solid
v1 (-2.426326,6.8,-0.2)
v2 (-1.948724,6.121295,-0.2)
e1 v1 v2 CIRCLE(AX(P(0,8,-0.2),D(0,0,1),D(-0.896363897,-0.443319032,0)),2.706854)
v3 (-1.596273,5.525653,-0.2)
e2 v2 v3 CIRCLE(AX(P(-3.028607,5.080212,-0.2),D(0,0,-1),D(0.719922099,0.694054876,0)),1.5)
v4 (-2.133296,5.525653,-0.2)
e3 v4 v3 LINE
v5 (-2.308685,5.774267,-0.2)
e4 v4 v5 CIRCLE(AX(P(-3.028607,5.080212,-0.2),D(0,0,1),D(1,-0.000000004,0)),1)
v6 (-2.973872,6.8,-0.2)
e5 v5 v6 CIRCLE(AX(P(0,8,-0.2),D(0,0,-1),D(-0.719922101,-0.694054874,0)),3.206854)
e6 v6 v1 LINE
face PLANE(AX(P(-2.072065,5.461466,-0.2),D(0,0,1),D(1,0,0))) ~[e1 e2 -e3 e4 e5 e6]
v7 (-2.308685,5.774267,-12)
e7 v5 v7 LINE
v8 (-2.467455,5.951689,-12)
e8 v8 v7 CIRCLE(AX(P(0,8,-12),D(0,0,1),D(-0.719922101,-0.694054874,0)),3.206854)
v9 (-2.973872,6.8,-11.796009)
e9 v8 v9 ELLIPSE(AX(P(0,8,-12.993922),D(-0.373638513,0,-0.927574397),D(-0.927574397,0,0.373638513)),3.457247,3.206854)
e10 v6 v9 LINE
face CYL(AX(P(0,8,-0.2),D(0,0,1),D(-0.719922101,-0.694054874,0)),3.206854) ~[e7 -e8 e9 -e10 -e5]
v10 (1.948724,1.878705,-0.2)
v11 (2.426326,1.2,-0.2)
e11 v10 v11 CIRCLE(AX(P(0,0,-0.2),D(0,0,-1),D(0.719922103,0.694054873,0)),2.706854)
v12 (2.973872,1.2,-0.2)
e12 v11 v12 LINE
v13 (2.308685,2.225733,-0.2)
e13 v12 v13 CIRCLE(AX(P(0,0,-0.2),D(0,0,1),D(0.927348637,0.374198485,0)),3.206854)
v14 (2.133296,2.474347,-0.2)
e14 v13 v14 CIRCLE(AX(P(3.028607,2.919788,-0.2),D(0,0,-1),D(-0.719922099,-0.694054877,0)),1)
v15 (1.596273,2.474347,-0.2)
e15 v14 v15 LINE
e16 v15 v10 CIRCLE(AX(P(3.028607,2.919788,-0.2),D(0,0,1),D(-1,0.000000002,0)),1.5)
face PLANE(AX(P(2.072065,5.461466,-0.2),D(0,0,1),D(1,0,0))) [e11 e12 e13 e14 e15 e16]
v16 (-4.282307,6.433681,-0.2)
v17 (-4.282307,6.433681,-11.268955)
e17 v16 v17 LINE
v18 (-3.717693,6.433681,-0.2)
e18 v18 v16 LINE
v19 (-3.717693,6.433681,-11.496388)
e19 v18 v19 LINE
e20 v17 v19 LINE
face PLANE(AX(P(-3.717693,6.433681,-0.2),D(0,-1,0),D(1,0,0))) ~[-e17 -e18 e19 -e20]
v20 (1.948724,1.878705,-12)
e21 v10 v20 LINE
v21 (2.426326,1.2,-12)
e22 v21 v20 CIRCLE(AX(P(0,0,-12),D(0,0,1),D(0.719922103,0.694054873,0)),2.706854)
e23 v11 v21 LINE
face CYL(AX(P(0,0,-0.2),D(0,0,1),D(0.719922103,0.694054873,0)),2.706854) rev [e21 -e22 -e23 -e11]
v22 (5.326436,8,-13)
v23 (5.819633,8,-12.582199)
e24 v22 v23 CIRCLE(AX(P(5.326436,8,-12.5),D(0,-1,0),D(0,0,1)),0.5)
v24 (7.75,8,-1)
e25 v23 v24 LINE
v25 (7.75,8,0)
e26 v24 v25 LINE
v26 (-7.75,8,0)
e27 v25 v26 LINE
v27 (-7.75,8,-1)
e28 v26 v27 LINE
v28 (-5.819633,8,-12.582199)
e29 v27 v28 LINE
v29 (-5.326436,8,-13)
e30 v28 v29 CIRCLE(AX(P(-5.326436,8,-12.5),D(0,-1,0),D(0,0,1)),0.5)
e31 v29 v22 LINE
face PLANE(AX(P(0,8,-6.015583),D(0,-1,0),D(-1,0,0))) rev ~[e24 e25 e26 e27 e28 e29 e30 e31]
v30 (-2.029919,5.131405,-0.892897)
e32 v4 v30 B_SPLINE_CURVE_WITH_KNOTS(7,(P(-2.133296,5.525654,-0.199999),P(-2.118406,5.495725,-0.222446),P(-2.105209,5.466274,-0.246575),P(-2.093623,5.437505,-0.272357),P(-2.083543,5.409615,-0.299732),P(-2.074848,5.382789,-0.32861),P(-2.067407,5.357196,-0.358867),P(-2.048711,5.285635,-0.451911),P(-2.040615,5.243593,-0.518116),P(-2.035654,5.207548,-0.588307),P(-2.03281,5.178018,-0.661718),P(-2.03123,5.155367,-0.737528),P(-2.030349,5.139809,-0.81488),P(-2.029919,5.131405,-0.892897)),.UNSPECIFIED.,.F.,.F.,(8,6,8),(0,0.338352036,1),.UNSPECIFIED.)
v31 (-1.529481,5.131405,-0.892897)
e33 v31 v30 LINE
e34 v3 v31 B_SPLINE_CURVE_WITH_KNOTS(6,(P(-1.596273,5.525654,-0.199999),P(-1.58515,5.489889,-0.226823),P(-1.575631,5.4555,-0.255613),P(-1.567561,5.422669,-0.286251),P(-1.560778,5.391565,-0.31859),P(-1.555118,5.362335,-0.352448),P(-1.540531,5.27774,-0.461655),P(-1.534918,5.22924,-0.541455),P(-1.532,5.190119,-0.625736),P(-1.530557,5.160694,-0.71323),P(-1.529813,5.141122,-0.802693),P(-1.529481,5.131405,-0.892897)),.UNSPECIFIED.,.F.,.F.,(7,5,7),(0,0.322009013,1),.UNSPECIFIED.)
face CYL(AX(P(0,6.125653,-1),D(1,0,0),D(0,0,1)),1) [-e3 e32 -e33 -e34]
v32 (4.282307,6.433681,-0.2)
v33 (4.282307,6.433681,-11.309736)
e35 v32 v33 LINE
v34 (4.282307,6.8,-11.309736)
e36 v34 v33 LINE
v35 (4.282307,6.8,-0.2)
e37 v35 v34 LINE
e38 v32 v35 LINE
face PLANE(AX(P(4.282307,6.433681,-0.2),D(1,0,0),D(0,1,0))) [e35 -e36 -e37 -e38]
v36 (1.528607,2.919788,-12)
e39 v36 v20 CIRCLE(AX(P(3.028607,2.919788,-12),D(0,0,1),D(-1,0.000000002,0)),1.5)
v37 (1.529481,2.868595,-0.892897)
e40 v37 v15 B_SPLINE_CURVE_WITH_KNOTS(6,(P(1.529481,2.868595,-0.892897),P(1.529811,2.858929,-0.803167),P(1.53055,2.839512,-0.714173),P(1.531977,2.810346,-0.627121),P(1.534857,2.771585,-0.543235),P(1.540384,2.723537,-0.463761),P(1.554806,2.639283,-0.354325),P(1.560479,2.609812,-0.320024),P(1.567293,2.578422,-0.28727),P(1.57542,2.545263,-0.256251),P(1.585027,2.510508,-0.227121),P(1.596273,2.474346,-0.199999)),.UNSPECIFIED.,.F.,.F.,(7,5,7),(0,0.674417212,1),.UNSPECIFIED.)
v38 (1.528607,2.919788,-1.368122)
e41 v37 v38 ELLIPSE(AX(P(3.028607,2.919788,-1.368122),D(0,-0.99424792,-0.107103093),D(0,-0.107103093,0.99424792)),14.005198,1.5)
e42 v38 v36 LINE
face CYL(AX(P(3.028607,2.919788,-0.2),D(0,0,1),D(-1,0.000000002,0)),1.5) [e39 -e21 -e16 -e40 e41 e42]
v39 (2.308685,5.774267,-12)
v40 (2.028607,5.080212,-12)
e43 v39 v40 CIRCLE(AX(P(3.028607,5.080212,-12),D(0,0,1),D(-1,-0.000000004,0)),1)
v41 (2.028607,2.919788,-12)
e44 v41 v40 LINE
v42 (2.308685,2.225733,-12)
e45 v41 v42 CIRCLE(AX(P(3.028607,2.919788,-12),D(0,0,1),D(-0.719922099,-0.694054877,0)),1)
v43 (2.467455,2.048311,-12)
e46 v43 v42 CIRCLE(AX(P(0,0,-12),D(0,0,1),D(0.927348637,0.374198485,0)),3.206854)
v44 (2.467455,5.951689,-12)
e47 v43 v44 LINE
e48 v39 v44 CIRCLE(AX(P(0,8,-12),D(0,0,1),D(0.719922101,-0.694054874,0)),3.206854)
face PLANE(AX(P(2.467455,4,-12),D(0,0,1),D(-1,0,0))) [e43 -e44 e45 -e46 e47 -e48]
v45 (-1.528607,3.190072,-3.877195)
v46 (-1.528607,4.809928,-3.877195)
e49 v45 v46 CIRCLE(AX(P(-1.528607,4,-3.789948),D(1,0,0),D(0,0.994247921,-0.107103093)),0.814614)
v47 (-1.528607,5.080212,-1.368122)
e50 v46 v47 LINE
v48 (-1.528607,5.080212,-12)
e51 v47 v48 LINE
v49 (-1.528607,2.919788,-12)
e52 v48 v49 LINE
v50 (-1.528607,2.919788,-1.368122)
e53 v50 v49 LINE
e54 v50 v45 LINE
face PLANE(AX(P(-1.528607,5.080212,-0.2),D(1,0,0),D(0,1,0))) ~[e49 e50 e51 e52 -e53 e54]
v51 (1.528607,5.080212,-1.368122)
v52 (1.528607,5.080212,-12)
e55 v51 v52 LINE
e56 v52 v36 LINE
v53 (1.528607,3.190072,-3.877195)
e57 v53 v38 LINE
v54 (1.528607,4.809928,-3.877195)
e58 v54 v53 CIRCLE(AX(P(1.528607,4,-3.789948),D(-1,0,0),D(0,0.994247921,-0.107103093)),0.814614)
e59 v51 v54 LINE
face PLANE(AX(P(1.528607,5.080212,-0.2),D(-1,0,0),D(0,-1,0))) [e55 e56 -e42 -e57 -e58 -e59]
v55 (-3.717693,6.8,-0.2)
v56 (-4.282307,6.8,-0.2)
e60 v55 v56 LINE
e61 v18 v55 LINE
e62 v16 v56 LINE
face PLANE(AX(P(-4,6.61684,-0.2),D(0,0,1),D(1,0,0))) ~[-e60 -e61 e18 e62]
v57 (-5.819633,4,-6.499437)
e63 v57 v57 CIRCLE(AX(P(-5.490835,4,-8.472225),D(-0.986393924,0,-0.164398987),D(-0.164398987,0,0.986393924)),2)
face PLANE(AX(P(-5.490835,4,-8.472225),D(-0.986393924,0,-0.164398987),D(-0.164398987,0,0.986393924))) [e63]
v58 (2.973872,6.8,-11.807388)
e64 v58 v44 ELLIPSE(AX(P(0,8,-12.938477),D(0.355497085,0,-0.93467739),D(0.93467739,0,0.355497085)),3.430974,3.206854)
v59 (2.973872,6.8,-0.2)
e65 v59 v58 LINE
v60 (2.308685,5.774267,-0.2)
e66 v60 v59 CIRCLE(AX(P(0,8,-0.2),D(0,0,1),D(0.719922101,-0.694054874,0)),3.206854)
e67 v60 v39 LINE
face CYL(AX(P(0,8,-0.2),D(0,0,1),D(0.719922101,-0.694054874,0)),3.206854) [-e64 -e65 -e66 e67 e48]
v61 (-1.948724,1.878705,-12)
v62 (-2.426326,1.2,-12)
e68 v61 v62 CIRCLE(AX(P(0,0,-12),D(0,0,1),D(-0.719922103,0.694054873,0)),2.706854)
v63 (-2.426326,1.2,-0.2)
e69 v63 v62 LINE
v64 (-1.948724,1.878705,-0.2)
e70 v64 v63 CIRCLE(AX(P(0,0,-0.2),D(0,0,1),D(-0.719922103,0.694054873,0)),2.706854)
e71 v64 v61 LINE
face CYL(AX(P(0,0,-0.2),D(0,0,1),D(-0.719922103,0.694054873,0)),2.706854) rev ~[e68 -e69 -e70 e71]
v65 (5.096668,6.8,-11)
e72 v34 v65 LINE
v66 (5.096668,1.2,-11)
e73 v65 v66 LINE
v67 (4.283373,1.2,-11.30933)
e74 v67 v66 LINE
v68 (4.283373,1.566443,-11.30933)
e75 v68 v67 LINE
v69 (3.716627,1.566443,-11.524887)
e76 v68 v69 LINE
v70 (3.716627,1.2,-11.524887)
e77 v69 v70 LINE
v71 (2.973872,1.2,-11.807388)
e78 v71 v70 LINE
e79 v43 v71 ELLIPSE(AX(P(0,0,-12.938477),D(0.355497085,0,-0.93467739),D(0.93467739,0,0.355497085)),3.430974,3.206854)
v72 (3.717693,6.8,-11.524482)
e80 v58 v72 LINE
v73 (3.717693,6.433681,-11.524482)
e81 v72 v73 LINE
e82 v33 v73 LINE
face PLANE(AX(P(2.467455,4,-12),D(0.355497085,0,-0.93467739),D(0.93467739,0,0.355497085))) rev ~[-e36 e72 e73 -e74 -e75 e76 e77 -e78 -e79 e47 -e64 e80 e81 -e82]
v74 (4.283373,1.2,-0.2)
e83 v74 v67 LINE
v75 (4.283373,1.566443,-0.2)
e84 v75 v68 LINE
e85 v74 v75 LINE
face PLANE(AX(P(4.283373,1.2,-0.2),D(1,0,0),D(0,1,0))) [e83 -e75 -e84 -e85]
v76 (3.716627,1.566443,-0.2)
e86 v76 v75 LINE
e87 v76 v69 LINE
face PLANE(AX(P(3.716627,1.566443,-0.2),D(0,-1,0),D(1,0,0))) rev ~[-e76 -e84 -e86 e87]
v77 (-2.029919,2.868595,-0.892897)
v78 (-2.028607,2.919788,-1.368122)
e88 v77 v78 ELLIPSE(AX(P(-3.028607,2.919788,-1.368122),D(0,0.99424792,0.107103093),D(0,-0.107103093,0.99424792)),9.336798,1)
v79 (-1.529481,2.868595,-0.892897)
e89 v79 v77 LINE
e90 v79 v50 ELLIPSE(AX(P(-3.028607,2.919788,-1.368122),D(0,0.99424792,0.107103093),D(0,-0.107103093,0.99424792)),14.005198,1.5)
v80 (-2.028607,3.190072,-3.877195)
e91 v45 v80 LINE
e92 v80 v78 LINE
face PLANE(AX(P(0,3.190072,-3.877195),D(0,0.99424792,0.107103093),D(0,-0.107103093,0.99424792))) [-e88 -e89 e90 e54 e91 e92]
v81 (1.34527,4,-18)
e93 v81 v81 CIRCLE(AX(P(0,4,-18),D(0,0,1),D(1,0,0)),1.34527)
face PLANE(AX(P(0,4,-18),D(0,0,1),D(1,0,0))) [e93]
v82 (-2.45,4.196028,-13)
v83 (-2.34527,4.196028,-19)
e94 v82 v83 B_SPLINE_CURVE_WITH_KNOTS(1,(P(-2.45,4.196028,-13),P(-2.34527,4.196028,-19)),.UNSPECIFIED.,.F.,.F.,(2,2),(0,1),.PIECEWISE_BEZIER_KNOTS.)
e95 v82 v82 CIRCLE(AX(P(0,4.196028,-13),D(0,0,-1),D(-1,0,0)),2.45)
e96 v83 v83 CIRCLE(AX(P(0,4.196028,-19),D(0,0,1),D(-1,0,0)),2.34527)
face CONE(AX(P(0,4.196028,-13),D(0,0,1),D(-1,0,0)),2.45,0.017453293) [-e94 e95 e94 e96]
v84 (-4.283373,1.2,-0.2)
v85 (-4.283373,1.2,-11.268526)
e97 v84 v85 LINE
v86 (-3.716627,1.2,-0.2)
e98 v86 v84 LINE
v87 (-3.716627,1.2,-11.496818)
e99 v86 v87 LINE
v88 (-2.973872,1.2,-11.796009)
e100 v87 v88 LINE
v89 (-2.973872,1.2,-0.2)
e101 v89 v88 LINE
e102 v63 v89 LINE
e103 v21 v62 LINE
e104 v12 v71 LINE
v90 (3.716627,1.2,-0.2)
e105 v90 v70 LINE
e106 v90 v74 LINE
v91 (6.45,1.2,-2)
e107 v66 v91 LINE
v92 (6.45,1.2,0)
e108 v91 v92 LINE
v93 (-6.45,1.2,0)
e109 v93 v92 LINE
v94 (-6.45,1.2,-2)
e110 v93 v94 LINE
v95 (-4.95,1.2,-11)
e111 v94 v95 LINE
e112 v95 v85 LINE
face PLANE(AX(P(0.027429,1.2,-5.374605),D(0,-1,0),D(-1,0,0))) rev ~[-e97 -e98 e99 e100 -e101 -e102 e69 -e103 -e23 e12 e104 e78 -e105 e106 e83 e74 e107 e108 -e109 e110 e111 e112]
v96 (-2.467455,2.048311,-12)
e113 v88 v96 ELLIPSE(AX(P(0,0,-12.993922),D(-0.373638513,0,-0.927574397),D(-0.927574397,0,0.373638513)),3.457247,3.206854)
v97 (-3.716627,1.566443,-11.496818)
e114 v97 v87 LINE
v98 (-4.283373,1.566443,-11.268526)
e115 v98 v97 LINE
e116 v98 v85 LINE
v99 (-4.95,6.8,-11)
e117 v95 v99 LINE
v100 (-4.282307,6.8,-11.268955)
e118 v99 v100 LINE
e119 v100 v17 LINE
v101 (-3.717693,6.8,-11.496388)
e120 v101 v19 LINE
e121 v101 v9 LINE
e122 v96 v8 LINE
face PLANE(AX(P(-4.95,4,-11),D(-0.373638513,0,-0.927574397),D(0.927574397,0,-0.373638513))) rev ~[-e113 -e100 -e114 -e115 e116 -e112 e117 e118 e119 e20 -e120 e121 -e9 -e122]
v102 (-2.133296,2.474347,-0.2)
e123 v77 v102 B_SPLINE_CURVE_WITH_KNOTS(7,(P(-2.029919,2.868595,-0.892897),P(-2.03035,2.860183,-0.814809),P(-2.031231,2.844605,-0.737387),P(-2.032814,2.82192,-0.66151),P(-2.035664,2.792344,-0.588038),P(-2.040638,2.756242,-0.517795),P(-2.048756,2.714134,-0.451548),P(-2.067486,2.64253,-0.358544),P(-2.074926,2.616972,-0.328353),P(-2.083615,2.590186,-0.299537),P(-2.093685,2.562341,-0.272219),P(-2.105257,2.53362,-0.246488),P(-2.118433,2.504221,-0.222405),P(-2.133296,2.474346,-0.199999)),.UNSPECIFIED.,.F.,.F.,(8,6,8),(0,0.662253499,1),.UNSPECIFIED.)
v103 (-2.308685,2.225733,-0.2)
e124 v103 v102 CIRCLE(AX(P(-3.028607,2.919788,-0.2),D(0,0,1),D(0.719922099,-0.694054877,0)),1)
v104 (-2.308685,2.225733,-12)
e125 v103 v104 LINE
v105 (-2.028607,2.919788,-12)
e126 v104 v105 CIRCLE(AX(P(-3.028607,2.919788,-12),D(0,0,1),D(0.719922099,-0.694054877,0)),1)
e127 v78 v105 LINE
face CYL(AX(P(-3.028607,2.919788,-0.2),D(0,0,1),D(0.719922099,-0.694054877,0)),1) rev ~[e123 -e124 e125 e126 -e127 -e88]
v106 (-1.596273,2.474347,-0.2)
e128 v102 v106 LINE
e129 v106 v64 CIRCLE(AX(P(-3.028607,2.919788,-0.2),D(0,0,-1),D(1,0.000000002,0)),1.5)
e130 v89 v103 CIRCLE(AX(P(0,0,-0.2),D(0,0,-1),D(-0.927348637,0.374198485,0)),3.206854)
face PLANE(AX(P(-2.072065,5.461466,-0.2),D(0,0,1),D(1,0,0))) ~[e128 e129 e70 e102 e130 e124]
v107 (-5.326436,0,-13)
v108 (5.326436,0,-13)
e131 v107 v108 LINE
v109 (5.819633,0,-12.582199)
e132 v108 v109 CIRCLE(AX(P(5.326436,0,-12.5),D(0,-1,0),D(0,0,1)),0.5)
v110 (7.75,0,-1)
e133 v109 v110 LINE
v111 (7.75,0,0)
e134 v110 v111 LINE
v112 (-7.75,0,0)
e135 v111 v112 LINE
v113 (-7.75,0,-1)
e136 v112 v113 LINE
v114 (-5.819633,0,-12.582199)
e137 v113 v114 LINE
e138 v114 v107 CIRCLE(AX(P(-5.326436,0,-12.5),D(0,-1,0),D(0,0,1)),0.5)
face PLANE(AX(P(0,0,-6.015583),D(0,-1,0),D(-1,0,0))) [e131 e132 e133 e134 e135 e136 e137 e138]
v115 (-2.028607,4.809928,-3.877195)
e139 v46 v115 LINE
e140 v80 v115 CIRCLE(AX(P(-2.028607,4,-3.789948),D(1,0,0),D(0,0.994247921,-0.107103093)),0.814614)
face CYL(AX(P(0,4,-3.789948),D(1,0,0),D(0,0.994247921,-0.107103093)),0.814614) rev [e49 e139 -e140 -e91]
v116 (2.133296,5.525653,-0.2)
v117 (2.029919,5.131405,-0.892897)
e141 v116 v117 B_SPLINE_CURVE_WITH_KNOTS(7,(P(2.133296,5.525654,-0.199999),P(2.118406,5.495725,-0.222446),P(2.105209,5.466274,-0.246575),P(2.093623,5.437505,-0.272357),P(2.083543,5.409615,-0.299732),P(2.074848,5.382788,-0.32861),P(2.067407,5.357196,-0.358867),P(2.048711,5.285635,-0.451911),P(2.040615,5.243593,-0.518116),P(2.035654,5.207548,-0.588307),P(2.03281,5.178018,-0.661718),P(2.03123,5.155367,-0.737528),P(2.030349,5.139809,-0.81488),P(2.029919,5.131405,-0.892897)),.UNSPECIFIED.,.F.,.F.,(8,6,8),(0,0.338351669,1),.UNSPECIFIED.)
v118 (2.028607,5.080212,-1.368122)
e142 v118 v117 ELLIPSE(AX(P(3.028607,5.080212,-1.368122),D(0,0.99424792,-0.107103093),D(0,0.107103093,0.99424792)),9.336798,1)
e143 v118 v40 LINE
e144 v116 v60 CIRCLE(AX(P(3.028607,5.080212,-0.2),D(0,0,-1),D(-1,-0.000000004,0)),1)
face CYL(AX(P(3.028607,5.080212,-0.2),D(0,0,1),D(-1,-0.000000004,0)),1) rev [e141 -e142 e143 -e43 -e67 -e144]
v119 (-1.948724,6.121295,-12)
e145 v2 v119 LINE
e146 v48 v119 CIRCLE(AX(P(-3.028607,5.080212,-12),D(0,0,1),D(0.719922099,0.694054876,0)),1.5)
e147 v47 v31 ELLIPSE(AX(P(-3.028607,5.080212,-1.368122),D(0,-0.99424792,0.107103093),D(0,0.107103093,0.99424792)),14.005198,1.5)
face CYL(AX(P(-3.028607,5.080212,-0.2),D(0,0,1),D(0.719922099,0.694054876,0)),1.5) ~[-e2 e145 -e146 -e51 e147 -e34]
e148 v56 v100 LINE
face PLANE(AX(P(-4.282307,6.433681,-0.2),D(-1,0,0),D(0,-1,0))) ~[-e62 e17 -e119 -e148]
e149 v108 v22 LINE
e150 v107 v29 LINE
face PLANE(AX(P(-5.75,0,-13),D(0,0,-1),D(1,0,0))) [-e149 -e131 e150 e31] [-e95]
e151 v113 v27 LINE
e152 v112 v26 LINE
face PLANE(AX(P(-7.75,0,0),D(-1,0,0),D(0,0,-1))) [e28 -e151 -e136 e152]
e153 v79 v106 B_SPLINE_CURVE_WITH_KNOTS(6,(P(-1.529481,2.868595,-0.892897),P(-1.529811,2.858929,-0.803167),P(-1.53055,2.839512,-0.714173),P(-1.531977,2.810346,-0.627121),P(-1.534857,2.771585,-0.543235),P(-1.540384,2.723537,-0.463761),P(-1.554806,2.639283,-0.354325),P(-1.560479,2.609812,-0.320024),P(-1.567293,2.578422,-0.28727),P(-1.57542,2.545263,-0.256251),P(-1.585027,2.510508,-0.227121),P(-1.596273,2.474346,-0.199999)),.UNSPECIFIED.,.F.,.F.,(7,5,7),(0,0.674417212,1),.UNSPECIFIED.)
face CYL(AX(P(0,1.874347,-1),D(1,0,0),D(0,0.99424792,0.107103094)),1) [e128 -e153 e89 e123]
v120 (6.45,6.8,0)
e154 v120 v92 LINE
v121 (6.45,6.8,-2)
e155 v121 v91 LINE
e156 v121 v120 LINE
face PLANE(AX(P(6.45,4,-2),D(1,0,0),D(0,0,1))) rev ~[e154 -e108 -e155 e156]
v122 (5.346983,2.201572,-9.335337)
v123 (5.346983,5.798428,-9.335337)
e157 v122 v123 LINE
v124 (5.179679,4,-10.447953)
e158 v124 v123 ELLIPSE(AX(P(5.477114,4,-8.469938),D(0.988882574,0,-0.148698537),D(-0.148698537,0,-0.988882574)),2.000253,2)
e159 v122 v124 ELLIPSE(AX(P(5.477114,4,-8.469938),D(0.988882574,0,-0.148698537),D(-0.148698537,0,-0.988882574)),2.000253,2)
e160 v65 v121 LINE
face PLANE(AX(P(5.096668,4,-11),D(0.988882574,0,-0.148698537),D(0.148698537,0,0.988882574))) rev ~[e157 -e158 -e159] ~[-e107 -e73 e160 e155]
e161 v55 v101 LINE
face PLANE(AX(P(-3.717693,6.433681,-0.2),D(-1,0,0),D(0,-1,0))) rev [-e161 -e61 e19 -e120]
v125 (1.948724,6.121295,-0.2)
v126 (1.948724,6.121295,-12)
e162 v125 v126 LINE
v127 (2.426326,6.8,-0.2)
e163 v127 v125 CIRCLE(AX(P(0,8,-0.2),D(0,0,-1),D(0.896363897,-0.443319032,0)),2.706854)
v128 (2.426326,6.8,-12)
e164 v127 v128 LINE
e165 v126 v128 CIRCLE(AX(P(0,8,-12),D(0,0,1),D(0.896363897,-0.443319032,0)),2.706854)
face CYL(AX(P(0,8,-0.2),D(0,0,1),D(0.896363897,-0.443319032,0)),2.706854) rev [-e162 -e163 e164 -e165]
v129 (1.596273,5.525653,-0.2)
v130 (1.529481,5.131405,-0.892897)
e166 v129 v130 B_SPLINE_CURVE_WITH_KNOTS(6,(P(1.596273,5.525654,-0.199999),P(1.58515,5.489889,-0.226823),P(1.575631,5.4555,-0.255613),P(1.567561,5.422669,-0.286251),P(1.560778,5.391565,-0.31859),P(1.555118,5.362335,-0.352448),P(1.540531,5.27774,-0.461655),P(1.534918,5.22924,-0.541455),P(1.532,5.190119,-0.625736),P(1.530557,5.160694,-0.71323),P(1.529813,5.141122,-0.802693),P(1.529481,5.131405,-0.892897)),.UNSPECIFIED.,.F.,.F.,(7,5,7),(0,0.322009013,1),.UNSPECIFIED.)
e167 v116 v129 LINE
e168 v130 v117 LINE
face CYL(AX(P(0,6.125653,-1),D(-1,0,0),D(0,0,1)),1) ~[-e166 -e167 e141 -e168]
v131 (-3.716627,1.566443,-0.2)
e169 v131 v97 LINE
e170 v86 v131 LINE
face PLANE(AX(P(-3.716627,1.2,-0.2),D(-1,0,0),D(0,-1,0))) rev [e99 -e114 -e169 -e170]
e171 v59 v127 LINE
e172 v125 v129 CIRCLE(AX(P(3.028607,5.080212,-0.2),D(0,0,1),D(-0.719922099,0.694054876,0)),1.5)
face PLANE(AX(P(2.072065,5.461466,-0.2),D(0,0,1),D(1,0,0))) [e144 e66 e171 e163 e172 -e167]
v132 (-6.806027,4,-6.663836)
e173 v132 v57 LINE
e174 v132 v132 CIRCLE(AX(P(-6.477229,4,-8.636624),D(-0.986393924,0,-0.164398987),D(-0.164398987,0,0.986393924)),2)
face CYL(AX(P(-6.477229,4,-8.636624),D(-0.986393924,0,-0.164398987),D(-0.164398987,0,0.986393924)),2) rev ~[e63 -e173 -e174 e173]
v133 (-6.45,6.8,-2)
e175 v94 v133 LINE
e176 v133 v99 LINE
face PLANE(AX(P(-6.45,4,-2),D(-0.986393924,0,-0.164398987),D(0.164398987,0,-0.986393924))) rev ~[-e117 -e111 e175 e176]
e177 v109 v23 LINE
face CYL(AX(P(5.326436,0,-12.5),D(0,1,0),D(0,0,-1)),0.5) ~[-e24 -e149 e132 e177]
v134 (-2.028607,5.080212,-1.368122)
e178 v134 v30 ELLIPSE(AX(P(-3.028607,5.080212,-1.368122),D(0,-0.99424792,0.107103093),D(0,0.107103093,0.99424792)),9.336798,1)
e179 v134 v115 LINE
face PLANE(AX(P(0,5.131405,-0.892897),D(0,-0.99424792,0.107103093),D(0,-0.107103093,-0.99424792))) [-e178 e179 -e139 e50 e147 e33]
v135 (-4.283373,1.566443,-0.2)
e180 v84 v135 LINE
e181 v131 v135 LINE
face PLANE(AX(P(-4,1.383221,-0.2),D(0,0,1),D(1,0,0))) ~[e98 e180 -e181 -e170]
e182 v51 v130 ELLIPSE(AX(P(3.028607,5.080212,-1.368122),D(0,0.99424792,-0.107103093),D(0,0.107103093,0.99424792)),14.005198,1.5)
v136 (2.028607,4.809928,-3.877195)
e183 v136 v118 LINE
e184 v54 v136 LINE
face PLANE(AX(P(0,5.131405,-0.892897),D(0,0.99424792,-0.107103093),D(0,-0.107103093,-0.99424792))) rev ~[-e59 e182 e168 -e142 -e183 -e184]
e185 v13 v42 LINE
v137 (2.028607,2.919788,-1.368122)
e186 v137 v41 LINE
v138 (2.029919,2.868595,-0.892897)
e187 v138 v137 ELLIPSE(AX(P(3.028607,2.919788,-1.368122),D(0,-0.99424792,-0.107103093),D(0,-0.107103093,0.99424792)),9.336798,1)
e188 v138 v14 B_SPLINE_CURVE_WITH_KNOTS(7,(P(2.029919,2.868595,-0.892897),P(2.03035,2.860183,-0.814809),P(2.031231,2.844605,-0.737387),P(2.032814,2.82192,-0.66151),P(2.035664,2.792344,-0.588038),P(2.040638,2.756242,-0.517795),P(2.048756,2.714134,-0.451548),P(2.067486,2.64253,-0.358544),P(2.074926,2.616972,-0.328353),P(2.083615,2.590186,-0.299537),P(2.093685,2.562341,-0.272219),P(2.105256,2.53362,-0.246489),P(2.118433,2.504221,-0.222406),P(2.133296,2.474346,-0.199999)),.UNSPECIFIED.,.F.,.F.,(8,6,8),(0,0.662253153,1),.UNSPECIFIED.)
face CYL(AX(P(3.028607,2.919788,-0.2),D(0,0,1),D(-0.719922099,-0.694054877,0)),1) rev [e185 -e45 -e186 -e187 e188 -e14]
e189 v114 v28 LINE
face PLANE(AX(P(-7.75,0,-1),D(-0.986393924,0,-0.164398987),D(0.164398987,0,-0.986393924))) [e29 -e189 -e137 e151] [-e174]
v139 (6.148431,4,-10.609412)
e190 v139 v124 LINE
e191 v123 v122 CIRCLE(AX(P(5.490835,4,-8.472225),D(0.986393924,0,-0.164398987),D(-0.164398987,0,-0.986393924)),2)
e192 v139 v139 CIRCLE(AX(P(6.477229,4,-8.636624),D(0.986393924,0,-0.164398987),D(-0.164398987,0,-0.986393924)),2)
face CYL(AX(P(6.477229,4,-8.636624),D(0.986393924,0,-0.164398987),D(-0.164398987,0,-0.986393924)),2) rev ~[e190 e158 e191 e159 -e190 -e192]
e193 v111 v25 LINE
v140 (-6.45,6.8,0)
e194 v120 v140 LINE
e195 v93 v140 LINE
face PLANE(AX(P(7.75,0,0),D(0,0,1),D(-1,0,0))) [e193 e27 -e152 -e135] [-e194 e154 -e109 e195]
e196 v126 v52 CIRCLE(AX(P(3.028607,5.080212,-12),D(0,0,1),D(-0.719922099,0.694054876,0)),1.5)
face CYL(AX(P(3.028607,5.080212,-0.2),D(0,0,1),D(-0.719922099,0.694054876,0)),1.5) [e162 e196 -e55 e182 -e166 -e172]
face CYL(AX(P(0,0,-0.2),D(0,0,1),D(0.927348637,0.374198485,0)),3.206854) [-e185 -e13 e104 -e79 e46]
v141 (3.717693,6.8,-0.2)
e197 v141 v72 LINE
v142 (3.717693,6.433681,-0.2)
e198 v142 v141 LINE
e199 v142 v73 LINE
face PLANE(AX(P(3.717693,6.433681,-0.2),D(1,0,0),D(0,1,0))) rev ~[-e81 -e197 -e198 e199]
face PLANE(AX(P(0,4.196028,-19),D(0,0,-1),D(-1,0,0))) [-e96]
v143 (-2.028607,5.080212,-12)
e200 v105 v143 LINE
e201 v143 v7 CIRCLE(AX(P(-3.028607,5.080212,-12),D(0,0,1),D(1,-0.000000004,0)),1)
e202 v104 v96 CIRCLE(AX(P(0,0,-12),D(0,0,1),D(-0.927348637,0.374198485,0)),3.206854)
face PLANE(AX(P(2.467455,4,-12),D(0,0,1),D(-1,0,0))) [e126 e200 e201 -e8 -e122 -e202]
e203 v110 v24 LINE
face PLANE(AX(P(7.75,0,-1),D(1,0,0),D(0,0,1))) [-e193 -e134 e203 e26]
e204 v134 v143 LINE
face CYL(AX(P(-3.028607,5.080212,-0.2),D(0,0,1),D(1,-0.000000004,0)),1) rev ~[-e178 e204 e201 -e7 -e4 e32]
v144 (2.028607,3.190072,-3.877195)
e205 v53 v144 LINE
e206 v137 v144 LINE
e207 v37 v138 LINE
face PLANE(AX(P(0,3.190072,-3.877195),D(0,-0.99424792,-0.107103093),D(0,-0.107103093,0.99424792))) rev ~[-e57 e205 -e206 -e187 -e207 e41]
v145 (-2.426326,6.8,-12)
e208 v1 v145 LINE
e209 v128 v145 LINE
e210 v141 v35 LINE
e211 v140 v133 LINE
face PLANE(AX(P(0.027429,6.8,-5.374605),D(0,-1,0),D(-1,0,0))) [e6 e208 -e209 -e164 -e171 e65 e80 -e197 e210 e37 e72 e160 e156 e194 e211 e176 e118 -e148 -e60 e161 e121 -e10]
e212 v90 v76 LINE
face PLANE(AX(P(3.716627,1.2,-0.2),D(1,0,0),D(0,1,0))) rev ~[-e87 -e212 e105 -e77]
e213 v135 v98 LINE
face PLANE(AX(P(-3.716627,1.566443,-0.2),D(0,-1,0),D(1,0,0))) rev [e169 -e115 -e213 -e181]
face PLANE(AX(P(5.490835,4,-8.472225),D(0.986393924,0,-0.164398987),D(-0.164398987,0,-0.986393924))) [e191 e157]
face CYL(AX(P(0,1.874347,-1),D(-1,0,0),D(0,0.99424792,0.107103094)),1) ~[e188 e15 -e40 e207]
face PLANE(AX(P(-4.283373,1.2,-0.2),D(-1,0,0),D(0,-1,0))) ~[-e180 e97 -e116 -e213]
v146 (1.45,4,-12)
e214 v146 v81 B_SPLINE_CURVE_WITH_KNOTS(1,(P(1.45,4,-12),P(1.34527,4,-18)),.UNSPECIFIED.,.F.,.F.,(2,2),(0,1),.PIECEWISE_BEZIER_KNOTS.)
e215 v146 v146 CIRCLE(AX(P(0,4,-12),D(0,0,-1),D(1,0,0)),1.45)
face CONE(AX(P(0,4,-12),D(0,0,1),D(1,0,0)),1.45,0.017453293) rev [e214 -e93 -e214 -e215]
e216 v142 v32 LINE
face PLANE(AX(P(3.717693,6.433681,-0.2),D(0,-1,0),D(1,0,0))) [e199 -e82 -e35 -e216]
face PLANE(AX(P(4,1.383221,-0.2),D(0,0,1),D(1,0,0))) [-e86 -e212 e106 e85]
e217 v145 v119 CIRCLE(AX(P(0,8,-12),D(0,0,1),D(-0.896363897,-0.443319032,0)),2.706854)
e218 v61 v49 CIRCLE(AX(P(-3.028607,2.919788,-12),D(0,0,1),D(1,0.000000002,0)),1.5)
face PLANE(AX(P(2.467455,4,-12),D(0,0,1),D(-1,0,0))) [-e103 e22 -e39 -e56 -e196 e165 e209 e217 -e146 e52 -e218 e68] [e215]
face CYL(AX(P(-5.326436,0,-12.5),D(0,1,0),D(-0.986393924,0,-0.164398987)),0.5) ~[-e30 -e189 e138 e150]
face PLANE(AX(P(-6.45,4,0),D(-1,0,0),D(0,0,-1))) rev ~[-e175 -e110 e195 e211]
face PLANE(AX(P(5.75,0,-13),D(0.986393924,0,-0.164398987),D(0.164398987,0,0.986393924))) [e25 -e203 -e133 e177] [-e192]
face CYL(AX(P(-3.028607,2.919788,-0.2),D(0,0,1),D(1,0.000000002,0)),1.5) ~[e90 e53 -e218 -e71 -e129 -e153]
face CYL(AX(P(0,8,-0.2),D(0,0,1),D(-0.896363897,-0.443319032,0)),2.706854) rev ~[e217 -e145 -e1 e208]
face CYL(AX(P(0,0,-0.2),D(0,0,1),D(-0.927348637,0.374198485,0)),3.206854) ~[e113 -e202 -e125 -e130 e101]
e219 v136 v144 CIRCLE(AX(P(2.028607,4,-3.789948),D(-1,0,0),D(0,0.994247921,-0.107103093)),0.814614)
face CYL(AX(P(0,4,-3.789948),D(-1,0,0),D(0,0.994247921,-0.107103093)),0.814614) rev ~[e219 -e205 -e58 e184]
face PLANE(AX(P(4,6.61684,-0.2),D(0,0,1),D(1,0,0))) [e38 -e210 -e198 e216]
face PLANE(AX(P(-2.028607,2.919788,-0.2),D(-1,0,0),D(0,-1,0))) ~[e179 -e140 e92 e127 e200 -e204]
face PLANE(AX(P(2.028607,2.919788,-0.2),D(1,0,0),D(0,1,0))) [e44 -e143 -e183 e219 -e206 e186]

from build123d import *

# Parameters (mm, degrees)
BOSS_EXTRUDE1_DEPTH     = 8
FILLET1_R               = 0.5
SKETCH5_R               = 2.45
BOSS_EXTRUDE2_DEPTH     = 6
BOSS_EXTRUDE2_TAPER     = 1
CUT_EXTRUDE4_DEPTH      = 2.8
CUT_EXTRUDE4_DEPTH_BACK = 2.8
SKETCH10_R              = 1.45
CUT_EXTRUDE5_DEPTH      = 6
CUT_EXTRUDE5_TAPER      = 1
SKETCH7_R               = 2
CUT_EXTRUDE6_DEPTH      = 1
SKETCH8_R               = 2
CUT_EXTRUDE7_DEPTH      = 1
BOSS_EXTRUDE4_START     = -0.2
SKETCH11_W              = 0.564613496
SKETCH11_H              = 0.366319064
SKETCH11_W_2            = 0.56674541
SKETCH11_H_2            = 0.366442951
BOSS_EXTRUDE4_DEPTH     = 12.3
CUT_EXTRUDE8_DEPTH      = 3
CUT_EXTRUDE8_DEPTH_BACK = 2.5


with BuildPart() as part:
    # Sketch3 → Boss-Extrude1 (new body)
    with BuildSketch(Plane(origin=(0, 0, 0), x_dir=(1, 0, 0), z_dir=(0, 1, 0))):
        Polygon((7.75, 0), (-7.75, 0), (-7.75, 1), (-5.75, 13), (5.75, 13), (7.75, 1), align=None)
    extrude(amount=BOSS_EXTRUDE1_DEPTH)

    # Fillet1
    fillet1_edges = [part.edges().sort_by_distance(p)[0] for p in [
        (5.75, 4, -13),
        (-5.75, 4, -13),
    ]]
    fillet(fillet1_edges, radius=FILLET1_R)

    # Sketch5 → Boss-Extrude2 (add)
    with BuildSketch(Plane(origin=(0, 0, -13), x_dir=(-1, 0, 0), z_dir=(0, 0, -1))):
        with Locations((0, 4.19602759)):
            Circle(SKETCH5_R)
    extrude(amount=BOSS_EXTRUDE2_DEPTH, taper=BOSS_EXTRUDE2_TAPER)

    # Sketch9 → Cut-Extrude4 (cut, two sides)
    with BuildSketch(Plane(origin=(0, 4, 0), x_dir=(1, 0, 0), z_dir=(0, 1, 0))) as cut_extrude4_sk:
        Polygon((-6.45, 0), (-6.45, 2), (-4.95, 11), (-2.467455065, 12), (-1.480633364, 12), (1.480633364, 12), (2.467455065, 12), (5.096667593, 11), (6.45, 2), (6.45, 0), align=None)
    extrude(amount=CUT_EXTRUDE4_DEPTH, mode=Mode.SUBTRACT)
    extrude(cut_extrude4_sk.sketch, amount=-CUT_EXTRUDE4_DEPTH_BACK, mode=Mode.SUBTRACT)

    # Sketch10 → Cut-Extrude5 (cut)
    with BuildSketch(Plane.XY.offset(-12)):
        with Locations((0, 4)):
            Circle(SKETCH10_R)
    extrude(amount=-CUT_EXTRUDE5_DEPTH, taper=CUT_EXTRUDE5_TAPER, mode=Mode.SUBTRACT)

    # Sketch7 → Cut-Extrude6 (cut)
    with BuildSketch(Plane(origin=(7.702702703, 0, -1.283783784), x_dir=(-0.164398987, 0, -0.986393924), z_dir=(0.986393924, 0, -0.164398987))):
        with Locations((7.454263289, 4)):
            Circle(SKETCH7_R)
    extrude(amount=-CUT_EXTRUDE6_DEPTH, mode=Mode.SUBTRACT)

    # Sketch8 → Cut-Extrude7 (cut)
    with BuildSketch(Plane(origin=(-7.702702703, 0, -1.283783784), x_dir=(-0.164398987, 0, 0.986393924), z_dir=(-0.986393924, 0, -0.164398987))):
        with Locations((-7.454263289, 4)):
            Circle(SKETCH8_R)
    extrude(amount=-CUT_EXTRUDE7_DEPTH, mode=Mode.SUBTRACT)

    # Sketch11 → Boss-Extrude4 (add)
    with BuildSketch(Plane.XY.offset(BOSS_EXTRUDE4_START)):
        with BuildLine():
            Line((1.528607349, 5.080212301), (1.528607349, 4))
            Line((1.528607349, 4), (2.028607349, 4))
            Line((2.028607349, 4), (2.028607349, 5.080212301))
            ThreePointArc((2.028607349, 5.080212301), (2.101266499, 5.454430085), (2.308685248, 5.774267176))
            ThreePointArc((2.308685248, 5.774267176), (2.690610434, 6.255141934), (2.973871917, 6.8))
            Line((2.973871917, 6.8), (2.426326427, 6.8))
            ThreePointArc((2.426326427, 6.8), (2.213690864, 6.442234714), (1.948724198, 6.121294613))
            ThreePointArc((1.948724198, 6.121294613), (1.637596075, 5.641538977), (1.528607349, 5.080212301))
        make_face()
        with BuildLine():
            ThreePointArc((1.948724198, 1.878705387), (2.213690864, 1.557765286), (2.426326427, 1.2))
            Line((2.426326427, 1.2), (2.973871917, 1.2))
            ThreePointArc((2.973871917, 1.2), (2.690610434, 1.744858066), (2.308685248, 2.225732824))
            ThreePointArc((2.308685248, 2.225732824), (2.101266499, 2.545569915), (2.028607349, 2.919787699))
            Line((2.028607349, 2.919787699), (2.028607349, 4))
            Line((2.028607349, 4), (1.528607349, 4))
            Line((1.528607349, 4), (1.528607349, 2.919787699))
            ThreePointArc((1.528607349, 2.919787699), (1.637596075, 2.358461023), (1.948724198, 1.878705387))
        make_face()
        with Locations((4, 6.616840468)):
            Rectangle(SKETCH11_W, SKETCH11_H)
        with Locations((4, 1.383221476)):
            Rectangle(SKETCH11_W_2, SKETCH11_H_2)
    boss_extrude4 = extrude(amount=-BOSS_EXTRUDE4_DEPTH)

    # Mirror1: Boss-Extrude4 across plane
    add(boss_extrude4.mirror(Plane(origin=(0, 0, 0), x_dir=(0, 0, 1), z_dir=(1, 0, 0))))

    # Sketch12 → Cut-Extrude8 (cut, two sides)
    with BuildSketch(Plane(origin=(0, 0, 0), x_dir=(0, 0, -1), z_dir=(1, 0, 0))) as cut_extrude8_sk:
        with BuildLine():
            Line((0, 6.910389693), (0, 6.125652773))
            ThreePointArc((0, 6.125652773), (0.255989552, 5.45748479), (0.892896907, 5.131404852))
            Line((0.892896907, 5.131404852), (3.877195183, 4.809928115))
            ThreePointArc((3.877195183, 4.809928115), (4.60456136, 4), (3.877195183, 3.190071885))
            Line((3.877195183, 3.190071885), (0.892896907, 2.868595148))
            ThreePointArc((0.892896907, 2.868595148), (0.255989552, 2.54251521), (0, 1.874347227))
            Line((0, 1.874347227), (0, 1.089610307))
            Line((0, 1.089610307), (-0.964322492, 1.089610307))
            Line((-0.964322492, 1.089610307), (-0.964322492, 6.910389693))
            Line((-0.964322492, 6.910389693), (0, 6.910389693))
        make_face()
    extrude(amount=CUT_EXTRUDE8_DEPTH, mode=Mode.SUBTRACT)
    extrude(cut_extrude8_sk.sketch, amount=-CUT_EXTRUDE8_DEPTH_BACK, mode=Mode.SUBTRACT)


solid = part.part
